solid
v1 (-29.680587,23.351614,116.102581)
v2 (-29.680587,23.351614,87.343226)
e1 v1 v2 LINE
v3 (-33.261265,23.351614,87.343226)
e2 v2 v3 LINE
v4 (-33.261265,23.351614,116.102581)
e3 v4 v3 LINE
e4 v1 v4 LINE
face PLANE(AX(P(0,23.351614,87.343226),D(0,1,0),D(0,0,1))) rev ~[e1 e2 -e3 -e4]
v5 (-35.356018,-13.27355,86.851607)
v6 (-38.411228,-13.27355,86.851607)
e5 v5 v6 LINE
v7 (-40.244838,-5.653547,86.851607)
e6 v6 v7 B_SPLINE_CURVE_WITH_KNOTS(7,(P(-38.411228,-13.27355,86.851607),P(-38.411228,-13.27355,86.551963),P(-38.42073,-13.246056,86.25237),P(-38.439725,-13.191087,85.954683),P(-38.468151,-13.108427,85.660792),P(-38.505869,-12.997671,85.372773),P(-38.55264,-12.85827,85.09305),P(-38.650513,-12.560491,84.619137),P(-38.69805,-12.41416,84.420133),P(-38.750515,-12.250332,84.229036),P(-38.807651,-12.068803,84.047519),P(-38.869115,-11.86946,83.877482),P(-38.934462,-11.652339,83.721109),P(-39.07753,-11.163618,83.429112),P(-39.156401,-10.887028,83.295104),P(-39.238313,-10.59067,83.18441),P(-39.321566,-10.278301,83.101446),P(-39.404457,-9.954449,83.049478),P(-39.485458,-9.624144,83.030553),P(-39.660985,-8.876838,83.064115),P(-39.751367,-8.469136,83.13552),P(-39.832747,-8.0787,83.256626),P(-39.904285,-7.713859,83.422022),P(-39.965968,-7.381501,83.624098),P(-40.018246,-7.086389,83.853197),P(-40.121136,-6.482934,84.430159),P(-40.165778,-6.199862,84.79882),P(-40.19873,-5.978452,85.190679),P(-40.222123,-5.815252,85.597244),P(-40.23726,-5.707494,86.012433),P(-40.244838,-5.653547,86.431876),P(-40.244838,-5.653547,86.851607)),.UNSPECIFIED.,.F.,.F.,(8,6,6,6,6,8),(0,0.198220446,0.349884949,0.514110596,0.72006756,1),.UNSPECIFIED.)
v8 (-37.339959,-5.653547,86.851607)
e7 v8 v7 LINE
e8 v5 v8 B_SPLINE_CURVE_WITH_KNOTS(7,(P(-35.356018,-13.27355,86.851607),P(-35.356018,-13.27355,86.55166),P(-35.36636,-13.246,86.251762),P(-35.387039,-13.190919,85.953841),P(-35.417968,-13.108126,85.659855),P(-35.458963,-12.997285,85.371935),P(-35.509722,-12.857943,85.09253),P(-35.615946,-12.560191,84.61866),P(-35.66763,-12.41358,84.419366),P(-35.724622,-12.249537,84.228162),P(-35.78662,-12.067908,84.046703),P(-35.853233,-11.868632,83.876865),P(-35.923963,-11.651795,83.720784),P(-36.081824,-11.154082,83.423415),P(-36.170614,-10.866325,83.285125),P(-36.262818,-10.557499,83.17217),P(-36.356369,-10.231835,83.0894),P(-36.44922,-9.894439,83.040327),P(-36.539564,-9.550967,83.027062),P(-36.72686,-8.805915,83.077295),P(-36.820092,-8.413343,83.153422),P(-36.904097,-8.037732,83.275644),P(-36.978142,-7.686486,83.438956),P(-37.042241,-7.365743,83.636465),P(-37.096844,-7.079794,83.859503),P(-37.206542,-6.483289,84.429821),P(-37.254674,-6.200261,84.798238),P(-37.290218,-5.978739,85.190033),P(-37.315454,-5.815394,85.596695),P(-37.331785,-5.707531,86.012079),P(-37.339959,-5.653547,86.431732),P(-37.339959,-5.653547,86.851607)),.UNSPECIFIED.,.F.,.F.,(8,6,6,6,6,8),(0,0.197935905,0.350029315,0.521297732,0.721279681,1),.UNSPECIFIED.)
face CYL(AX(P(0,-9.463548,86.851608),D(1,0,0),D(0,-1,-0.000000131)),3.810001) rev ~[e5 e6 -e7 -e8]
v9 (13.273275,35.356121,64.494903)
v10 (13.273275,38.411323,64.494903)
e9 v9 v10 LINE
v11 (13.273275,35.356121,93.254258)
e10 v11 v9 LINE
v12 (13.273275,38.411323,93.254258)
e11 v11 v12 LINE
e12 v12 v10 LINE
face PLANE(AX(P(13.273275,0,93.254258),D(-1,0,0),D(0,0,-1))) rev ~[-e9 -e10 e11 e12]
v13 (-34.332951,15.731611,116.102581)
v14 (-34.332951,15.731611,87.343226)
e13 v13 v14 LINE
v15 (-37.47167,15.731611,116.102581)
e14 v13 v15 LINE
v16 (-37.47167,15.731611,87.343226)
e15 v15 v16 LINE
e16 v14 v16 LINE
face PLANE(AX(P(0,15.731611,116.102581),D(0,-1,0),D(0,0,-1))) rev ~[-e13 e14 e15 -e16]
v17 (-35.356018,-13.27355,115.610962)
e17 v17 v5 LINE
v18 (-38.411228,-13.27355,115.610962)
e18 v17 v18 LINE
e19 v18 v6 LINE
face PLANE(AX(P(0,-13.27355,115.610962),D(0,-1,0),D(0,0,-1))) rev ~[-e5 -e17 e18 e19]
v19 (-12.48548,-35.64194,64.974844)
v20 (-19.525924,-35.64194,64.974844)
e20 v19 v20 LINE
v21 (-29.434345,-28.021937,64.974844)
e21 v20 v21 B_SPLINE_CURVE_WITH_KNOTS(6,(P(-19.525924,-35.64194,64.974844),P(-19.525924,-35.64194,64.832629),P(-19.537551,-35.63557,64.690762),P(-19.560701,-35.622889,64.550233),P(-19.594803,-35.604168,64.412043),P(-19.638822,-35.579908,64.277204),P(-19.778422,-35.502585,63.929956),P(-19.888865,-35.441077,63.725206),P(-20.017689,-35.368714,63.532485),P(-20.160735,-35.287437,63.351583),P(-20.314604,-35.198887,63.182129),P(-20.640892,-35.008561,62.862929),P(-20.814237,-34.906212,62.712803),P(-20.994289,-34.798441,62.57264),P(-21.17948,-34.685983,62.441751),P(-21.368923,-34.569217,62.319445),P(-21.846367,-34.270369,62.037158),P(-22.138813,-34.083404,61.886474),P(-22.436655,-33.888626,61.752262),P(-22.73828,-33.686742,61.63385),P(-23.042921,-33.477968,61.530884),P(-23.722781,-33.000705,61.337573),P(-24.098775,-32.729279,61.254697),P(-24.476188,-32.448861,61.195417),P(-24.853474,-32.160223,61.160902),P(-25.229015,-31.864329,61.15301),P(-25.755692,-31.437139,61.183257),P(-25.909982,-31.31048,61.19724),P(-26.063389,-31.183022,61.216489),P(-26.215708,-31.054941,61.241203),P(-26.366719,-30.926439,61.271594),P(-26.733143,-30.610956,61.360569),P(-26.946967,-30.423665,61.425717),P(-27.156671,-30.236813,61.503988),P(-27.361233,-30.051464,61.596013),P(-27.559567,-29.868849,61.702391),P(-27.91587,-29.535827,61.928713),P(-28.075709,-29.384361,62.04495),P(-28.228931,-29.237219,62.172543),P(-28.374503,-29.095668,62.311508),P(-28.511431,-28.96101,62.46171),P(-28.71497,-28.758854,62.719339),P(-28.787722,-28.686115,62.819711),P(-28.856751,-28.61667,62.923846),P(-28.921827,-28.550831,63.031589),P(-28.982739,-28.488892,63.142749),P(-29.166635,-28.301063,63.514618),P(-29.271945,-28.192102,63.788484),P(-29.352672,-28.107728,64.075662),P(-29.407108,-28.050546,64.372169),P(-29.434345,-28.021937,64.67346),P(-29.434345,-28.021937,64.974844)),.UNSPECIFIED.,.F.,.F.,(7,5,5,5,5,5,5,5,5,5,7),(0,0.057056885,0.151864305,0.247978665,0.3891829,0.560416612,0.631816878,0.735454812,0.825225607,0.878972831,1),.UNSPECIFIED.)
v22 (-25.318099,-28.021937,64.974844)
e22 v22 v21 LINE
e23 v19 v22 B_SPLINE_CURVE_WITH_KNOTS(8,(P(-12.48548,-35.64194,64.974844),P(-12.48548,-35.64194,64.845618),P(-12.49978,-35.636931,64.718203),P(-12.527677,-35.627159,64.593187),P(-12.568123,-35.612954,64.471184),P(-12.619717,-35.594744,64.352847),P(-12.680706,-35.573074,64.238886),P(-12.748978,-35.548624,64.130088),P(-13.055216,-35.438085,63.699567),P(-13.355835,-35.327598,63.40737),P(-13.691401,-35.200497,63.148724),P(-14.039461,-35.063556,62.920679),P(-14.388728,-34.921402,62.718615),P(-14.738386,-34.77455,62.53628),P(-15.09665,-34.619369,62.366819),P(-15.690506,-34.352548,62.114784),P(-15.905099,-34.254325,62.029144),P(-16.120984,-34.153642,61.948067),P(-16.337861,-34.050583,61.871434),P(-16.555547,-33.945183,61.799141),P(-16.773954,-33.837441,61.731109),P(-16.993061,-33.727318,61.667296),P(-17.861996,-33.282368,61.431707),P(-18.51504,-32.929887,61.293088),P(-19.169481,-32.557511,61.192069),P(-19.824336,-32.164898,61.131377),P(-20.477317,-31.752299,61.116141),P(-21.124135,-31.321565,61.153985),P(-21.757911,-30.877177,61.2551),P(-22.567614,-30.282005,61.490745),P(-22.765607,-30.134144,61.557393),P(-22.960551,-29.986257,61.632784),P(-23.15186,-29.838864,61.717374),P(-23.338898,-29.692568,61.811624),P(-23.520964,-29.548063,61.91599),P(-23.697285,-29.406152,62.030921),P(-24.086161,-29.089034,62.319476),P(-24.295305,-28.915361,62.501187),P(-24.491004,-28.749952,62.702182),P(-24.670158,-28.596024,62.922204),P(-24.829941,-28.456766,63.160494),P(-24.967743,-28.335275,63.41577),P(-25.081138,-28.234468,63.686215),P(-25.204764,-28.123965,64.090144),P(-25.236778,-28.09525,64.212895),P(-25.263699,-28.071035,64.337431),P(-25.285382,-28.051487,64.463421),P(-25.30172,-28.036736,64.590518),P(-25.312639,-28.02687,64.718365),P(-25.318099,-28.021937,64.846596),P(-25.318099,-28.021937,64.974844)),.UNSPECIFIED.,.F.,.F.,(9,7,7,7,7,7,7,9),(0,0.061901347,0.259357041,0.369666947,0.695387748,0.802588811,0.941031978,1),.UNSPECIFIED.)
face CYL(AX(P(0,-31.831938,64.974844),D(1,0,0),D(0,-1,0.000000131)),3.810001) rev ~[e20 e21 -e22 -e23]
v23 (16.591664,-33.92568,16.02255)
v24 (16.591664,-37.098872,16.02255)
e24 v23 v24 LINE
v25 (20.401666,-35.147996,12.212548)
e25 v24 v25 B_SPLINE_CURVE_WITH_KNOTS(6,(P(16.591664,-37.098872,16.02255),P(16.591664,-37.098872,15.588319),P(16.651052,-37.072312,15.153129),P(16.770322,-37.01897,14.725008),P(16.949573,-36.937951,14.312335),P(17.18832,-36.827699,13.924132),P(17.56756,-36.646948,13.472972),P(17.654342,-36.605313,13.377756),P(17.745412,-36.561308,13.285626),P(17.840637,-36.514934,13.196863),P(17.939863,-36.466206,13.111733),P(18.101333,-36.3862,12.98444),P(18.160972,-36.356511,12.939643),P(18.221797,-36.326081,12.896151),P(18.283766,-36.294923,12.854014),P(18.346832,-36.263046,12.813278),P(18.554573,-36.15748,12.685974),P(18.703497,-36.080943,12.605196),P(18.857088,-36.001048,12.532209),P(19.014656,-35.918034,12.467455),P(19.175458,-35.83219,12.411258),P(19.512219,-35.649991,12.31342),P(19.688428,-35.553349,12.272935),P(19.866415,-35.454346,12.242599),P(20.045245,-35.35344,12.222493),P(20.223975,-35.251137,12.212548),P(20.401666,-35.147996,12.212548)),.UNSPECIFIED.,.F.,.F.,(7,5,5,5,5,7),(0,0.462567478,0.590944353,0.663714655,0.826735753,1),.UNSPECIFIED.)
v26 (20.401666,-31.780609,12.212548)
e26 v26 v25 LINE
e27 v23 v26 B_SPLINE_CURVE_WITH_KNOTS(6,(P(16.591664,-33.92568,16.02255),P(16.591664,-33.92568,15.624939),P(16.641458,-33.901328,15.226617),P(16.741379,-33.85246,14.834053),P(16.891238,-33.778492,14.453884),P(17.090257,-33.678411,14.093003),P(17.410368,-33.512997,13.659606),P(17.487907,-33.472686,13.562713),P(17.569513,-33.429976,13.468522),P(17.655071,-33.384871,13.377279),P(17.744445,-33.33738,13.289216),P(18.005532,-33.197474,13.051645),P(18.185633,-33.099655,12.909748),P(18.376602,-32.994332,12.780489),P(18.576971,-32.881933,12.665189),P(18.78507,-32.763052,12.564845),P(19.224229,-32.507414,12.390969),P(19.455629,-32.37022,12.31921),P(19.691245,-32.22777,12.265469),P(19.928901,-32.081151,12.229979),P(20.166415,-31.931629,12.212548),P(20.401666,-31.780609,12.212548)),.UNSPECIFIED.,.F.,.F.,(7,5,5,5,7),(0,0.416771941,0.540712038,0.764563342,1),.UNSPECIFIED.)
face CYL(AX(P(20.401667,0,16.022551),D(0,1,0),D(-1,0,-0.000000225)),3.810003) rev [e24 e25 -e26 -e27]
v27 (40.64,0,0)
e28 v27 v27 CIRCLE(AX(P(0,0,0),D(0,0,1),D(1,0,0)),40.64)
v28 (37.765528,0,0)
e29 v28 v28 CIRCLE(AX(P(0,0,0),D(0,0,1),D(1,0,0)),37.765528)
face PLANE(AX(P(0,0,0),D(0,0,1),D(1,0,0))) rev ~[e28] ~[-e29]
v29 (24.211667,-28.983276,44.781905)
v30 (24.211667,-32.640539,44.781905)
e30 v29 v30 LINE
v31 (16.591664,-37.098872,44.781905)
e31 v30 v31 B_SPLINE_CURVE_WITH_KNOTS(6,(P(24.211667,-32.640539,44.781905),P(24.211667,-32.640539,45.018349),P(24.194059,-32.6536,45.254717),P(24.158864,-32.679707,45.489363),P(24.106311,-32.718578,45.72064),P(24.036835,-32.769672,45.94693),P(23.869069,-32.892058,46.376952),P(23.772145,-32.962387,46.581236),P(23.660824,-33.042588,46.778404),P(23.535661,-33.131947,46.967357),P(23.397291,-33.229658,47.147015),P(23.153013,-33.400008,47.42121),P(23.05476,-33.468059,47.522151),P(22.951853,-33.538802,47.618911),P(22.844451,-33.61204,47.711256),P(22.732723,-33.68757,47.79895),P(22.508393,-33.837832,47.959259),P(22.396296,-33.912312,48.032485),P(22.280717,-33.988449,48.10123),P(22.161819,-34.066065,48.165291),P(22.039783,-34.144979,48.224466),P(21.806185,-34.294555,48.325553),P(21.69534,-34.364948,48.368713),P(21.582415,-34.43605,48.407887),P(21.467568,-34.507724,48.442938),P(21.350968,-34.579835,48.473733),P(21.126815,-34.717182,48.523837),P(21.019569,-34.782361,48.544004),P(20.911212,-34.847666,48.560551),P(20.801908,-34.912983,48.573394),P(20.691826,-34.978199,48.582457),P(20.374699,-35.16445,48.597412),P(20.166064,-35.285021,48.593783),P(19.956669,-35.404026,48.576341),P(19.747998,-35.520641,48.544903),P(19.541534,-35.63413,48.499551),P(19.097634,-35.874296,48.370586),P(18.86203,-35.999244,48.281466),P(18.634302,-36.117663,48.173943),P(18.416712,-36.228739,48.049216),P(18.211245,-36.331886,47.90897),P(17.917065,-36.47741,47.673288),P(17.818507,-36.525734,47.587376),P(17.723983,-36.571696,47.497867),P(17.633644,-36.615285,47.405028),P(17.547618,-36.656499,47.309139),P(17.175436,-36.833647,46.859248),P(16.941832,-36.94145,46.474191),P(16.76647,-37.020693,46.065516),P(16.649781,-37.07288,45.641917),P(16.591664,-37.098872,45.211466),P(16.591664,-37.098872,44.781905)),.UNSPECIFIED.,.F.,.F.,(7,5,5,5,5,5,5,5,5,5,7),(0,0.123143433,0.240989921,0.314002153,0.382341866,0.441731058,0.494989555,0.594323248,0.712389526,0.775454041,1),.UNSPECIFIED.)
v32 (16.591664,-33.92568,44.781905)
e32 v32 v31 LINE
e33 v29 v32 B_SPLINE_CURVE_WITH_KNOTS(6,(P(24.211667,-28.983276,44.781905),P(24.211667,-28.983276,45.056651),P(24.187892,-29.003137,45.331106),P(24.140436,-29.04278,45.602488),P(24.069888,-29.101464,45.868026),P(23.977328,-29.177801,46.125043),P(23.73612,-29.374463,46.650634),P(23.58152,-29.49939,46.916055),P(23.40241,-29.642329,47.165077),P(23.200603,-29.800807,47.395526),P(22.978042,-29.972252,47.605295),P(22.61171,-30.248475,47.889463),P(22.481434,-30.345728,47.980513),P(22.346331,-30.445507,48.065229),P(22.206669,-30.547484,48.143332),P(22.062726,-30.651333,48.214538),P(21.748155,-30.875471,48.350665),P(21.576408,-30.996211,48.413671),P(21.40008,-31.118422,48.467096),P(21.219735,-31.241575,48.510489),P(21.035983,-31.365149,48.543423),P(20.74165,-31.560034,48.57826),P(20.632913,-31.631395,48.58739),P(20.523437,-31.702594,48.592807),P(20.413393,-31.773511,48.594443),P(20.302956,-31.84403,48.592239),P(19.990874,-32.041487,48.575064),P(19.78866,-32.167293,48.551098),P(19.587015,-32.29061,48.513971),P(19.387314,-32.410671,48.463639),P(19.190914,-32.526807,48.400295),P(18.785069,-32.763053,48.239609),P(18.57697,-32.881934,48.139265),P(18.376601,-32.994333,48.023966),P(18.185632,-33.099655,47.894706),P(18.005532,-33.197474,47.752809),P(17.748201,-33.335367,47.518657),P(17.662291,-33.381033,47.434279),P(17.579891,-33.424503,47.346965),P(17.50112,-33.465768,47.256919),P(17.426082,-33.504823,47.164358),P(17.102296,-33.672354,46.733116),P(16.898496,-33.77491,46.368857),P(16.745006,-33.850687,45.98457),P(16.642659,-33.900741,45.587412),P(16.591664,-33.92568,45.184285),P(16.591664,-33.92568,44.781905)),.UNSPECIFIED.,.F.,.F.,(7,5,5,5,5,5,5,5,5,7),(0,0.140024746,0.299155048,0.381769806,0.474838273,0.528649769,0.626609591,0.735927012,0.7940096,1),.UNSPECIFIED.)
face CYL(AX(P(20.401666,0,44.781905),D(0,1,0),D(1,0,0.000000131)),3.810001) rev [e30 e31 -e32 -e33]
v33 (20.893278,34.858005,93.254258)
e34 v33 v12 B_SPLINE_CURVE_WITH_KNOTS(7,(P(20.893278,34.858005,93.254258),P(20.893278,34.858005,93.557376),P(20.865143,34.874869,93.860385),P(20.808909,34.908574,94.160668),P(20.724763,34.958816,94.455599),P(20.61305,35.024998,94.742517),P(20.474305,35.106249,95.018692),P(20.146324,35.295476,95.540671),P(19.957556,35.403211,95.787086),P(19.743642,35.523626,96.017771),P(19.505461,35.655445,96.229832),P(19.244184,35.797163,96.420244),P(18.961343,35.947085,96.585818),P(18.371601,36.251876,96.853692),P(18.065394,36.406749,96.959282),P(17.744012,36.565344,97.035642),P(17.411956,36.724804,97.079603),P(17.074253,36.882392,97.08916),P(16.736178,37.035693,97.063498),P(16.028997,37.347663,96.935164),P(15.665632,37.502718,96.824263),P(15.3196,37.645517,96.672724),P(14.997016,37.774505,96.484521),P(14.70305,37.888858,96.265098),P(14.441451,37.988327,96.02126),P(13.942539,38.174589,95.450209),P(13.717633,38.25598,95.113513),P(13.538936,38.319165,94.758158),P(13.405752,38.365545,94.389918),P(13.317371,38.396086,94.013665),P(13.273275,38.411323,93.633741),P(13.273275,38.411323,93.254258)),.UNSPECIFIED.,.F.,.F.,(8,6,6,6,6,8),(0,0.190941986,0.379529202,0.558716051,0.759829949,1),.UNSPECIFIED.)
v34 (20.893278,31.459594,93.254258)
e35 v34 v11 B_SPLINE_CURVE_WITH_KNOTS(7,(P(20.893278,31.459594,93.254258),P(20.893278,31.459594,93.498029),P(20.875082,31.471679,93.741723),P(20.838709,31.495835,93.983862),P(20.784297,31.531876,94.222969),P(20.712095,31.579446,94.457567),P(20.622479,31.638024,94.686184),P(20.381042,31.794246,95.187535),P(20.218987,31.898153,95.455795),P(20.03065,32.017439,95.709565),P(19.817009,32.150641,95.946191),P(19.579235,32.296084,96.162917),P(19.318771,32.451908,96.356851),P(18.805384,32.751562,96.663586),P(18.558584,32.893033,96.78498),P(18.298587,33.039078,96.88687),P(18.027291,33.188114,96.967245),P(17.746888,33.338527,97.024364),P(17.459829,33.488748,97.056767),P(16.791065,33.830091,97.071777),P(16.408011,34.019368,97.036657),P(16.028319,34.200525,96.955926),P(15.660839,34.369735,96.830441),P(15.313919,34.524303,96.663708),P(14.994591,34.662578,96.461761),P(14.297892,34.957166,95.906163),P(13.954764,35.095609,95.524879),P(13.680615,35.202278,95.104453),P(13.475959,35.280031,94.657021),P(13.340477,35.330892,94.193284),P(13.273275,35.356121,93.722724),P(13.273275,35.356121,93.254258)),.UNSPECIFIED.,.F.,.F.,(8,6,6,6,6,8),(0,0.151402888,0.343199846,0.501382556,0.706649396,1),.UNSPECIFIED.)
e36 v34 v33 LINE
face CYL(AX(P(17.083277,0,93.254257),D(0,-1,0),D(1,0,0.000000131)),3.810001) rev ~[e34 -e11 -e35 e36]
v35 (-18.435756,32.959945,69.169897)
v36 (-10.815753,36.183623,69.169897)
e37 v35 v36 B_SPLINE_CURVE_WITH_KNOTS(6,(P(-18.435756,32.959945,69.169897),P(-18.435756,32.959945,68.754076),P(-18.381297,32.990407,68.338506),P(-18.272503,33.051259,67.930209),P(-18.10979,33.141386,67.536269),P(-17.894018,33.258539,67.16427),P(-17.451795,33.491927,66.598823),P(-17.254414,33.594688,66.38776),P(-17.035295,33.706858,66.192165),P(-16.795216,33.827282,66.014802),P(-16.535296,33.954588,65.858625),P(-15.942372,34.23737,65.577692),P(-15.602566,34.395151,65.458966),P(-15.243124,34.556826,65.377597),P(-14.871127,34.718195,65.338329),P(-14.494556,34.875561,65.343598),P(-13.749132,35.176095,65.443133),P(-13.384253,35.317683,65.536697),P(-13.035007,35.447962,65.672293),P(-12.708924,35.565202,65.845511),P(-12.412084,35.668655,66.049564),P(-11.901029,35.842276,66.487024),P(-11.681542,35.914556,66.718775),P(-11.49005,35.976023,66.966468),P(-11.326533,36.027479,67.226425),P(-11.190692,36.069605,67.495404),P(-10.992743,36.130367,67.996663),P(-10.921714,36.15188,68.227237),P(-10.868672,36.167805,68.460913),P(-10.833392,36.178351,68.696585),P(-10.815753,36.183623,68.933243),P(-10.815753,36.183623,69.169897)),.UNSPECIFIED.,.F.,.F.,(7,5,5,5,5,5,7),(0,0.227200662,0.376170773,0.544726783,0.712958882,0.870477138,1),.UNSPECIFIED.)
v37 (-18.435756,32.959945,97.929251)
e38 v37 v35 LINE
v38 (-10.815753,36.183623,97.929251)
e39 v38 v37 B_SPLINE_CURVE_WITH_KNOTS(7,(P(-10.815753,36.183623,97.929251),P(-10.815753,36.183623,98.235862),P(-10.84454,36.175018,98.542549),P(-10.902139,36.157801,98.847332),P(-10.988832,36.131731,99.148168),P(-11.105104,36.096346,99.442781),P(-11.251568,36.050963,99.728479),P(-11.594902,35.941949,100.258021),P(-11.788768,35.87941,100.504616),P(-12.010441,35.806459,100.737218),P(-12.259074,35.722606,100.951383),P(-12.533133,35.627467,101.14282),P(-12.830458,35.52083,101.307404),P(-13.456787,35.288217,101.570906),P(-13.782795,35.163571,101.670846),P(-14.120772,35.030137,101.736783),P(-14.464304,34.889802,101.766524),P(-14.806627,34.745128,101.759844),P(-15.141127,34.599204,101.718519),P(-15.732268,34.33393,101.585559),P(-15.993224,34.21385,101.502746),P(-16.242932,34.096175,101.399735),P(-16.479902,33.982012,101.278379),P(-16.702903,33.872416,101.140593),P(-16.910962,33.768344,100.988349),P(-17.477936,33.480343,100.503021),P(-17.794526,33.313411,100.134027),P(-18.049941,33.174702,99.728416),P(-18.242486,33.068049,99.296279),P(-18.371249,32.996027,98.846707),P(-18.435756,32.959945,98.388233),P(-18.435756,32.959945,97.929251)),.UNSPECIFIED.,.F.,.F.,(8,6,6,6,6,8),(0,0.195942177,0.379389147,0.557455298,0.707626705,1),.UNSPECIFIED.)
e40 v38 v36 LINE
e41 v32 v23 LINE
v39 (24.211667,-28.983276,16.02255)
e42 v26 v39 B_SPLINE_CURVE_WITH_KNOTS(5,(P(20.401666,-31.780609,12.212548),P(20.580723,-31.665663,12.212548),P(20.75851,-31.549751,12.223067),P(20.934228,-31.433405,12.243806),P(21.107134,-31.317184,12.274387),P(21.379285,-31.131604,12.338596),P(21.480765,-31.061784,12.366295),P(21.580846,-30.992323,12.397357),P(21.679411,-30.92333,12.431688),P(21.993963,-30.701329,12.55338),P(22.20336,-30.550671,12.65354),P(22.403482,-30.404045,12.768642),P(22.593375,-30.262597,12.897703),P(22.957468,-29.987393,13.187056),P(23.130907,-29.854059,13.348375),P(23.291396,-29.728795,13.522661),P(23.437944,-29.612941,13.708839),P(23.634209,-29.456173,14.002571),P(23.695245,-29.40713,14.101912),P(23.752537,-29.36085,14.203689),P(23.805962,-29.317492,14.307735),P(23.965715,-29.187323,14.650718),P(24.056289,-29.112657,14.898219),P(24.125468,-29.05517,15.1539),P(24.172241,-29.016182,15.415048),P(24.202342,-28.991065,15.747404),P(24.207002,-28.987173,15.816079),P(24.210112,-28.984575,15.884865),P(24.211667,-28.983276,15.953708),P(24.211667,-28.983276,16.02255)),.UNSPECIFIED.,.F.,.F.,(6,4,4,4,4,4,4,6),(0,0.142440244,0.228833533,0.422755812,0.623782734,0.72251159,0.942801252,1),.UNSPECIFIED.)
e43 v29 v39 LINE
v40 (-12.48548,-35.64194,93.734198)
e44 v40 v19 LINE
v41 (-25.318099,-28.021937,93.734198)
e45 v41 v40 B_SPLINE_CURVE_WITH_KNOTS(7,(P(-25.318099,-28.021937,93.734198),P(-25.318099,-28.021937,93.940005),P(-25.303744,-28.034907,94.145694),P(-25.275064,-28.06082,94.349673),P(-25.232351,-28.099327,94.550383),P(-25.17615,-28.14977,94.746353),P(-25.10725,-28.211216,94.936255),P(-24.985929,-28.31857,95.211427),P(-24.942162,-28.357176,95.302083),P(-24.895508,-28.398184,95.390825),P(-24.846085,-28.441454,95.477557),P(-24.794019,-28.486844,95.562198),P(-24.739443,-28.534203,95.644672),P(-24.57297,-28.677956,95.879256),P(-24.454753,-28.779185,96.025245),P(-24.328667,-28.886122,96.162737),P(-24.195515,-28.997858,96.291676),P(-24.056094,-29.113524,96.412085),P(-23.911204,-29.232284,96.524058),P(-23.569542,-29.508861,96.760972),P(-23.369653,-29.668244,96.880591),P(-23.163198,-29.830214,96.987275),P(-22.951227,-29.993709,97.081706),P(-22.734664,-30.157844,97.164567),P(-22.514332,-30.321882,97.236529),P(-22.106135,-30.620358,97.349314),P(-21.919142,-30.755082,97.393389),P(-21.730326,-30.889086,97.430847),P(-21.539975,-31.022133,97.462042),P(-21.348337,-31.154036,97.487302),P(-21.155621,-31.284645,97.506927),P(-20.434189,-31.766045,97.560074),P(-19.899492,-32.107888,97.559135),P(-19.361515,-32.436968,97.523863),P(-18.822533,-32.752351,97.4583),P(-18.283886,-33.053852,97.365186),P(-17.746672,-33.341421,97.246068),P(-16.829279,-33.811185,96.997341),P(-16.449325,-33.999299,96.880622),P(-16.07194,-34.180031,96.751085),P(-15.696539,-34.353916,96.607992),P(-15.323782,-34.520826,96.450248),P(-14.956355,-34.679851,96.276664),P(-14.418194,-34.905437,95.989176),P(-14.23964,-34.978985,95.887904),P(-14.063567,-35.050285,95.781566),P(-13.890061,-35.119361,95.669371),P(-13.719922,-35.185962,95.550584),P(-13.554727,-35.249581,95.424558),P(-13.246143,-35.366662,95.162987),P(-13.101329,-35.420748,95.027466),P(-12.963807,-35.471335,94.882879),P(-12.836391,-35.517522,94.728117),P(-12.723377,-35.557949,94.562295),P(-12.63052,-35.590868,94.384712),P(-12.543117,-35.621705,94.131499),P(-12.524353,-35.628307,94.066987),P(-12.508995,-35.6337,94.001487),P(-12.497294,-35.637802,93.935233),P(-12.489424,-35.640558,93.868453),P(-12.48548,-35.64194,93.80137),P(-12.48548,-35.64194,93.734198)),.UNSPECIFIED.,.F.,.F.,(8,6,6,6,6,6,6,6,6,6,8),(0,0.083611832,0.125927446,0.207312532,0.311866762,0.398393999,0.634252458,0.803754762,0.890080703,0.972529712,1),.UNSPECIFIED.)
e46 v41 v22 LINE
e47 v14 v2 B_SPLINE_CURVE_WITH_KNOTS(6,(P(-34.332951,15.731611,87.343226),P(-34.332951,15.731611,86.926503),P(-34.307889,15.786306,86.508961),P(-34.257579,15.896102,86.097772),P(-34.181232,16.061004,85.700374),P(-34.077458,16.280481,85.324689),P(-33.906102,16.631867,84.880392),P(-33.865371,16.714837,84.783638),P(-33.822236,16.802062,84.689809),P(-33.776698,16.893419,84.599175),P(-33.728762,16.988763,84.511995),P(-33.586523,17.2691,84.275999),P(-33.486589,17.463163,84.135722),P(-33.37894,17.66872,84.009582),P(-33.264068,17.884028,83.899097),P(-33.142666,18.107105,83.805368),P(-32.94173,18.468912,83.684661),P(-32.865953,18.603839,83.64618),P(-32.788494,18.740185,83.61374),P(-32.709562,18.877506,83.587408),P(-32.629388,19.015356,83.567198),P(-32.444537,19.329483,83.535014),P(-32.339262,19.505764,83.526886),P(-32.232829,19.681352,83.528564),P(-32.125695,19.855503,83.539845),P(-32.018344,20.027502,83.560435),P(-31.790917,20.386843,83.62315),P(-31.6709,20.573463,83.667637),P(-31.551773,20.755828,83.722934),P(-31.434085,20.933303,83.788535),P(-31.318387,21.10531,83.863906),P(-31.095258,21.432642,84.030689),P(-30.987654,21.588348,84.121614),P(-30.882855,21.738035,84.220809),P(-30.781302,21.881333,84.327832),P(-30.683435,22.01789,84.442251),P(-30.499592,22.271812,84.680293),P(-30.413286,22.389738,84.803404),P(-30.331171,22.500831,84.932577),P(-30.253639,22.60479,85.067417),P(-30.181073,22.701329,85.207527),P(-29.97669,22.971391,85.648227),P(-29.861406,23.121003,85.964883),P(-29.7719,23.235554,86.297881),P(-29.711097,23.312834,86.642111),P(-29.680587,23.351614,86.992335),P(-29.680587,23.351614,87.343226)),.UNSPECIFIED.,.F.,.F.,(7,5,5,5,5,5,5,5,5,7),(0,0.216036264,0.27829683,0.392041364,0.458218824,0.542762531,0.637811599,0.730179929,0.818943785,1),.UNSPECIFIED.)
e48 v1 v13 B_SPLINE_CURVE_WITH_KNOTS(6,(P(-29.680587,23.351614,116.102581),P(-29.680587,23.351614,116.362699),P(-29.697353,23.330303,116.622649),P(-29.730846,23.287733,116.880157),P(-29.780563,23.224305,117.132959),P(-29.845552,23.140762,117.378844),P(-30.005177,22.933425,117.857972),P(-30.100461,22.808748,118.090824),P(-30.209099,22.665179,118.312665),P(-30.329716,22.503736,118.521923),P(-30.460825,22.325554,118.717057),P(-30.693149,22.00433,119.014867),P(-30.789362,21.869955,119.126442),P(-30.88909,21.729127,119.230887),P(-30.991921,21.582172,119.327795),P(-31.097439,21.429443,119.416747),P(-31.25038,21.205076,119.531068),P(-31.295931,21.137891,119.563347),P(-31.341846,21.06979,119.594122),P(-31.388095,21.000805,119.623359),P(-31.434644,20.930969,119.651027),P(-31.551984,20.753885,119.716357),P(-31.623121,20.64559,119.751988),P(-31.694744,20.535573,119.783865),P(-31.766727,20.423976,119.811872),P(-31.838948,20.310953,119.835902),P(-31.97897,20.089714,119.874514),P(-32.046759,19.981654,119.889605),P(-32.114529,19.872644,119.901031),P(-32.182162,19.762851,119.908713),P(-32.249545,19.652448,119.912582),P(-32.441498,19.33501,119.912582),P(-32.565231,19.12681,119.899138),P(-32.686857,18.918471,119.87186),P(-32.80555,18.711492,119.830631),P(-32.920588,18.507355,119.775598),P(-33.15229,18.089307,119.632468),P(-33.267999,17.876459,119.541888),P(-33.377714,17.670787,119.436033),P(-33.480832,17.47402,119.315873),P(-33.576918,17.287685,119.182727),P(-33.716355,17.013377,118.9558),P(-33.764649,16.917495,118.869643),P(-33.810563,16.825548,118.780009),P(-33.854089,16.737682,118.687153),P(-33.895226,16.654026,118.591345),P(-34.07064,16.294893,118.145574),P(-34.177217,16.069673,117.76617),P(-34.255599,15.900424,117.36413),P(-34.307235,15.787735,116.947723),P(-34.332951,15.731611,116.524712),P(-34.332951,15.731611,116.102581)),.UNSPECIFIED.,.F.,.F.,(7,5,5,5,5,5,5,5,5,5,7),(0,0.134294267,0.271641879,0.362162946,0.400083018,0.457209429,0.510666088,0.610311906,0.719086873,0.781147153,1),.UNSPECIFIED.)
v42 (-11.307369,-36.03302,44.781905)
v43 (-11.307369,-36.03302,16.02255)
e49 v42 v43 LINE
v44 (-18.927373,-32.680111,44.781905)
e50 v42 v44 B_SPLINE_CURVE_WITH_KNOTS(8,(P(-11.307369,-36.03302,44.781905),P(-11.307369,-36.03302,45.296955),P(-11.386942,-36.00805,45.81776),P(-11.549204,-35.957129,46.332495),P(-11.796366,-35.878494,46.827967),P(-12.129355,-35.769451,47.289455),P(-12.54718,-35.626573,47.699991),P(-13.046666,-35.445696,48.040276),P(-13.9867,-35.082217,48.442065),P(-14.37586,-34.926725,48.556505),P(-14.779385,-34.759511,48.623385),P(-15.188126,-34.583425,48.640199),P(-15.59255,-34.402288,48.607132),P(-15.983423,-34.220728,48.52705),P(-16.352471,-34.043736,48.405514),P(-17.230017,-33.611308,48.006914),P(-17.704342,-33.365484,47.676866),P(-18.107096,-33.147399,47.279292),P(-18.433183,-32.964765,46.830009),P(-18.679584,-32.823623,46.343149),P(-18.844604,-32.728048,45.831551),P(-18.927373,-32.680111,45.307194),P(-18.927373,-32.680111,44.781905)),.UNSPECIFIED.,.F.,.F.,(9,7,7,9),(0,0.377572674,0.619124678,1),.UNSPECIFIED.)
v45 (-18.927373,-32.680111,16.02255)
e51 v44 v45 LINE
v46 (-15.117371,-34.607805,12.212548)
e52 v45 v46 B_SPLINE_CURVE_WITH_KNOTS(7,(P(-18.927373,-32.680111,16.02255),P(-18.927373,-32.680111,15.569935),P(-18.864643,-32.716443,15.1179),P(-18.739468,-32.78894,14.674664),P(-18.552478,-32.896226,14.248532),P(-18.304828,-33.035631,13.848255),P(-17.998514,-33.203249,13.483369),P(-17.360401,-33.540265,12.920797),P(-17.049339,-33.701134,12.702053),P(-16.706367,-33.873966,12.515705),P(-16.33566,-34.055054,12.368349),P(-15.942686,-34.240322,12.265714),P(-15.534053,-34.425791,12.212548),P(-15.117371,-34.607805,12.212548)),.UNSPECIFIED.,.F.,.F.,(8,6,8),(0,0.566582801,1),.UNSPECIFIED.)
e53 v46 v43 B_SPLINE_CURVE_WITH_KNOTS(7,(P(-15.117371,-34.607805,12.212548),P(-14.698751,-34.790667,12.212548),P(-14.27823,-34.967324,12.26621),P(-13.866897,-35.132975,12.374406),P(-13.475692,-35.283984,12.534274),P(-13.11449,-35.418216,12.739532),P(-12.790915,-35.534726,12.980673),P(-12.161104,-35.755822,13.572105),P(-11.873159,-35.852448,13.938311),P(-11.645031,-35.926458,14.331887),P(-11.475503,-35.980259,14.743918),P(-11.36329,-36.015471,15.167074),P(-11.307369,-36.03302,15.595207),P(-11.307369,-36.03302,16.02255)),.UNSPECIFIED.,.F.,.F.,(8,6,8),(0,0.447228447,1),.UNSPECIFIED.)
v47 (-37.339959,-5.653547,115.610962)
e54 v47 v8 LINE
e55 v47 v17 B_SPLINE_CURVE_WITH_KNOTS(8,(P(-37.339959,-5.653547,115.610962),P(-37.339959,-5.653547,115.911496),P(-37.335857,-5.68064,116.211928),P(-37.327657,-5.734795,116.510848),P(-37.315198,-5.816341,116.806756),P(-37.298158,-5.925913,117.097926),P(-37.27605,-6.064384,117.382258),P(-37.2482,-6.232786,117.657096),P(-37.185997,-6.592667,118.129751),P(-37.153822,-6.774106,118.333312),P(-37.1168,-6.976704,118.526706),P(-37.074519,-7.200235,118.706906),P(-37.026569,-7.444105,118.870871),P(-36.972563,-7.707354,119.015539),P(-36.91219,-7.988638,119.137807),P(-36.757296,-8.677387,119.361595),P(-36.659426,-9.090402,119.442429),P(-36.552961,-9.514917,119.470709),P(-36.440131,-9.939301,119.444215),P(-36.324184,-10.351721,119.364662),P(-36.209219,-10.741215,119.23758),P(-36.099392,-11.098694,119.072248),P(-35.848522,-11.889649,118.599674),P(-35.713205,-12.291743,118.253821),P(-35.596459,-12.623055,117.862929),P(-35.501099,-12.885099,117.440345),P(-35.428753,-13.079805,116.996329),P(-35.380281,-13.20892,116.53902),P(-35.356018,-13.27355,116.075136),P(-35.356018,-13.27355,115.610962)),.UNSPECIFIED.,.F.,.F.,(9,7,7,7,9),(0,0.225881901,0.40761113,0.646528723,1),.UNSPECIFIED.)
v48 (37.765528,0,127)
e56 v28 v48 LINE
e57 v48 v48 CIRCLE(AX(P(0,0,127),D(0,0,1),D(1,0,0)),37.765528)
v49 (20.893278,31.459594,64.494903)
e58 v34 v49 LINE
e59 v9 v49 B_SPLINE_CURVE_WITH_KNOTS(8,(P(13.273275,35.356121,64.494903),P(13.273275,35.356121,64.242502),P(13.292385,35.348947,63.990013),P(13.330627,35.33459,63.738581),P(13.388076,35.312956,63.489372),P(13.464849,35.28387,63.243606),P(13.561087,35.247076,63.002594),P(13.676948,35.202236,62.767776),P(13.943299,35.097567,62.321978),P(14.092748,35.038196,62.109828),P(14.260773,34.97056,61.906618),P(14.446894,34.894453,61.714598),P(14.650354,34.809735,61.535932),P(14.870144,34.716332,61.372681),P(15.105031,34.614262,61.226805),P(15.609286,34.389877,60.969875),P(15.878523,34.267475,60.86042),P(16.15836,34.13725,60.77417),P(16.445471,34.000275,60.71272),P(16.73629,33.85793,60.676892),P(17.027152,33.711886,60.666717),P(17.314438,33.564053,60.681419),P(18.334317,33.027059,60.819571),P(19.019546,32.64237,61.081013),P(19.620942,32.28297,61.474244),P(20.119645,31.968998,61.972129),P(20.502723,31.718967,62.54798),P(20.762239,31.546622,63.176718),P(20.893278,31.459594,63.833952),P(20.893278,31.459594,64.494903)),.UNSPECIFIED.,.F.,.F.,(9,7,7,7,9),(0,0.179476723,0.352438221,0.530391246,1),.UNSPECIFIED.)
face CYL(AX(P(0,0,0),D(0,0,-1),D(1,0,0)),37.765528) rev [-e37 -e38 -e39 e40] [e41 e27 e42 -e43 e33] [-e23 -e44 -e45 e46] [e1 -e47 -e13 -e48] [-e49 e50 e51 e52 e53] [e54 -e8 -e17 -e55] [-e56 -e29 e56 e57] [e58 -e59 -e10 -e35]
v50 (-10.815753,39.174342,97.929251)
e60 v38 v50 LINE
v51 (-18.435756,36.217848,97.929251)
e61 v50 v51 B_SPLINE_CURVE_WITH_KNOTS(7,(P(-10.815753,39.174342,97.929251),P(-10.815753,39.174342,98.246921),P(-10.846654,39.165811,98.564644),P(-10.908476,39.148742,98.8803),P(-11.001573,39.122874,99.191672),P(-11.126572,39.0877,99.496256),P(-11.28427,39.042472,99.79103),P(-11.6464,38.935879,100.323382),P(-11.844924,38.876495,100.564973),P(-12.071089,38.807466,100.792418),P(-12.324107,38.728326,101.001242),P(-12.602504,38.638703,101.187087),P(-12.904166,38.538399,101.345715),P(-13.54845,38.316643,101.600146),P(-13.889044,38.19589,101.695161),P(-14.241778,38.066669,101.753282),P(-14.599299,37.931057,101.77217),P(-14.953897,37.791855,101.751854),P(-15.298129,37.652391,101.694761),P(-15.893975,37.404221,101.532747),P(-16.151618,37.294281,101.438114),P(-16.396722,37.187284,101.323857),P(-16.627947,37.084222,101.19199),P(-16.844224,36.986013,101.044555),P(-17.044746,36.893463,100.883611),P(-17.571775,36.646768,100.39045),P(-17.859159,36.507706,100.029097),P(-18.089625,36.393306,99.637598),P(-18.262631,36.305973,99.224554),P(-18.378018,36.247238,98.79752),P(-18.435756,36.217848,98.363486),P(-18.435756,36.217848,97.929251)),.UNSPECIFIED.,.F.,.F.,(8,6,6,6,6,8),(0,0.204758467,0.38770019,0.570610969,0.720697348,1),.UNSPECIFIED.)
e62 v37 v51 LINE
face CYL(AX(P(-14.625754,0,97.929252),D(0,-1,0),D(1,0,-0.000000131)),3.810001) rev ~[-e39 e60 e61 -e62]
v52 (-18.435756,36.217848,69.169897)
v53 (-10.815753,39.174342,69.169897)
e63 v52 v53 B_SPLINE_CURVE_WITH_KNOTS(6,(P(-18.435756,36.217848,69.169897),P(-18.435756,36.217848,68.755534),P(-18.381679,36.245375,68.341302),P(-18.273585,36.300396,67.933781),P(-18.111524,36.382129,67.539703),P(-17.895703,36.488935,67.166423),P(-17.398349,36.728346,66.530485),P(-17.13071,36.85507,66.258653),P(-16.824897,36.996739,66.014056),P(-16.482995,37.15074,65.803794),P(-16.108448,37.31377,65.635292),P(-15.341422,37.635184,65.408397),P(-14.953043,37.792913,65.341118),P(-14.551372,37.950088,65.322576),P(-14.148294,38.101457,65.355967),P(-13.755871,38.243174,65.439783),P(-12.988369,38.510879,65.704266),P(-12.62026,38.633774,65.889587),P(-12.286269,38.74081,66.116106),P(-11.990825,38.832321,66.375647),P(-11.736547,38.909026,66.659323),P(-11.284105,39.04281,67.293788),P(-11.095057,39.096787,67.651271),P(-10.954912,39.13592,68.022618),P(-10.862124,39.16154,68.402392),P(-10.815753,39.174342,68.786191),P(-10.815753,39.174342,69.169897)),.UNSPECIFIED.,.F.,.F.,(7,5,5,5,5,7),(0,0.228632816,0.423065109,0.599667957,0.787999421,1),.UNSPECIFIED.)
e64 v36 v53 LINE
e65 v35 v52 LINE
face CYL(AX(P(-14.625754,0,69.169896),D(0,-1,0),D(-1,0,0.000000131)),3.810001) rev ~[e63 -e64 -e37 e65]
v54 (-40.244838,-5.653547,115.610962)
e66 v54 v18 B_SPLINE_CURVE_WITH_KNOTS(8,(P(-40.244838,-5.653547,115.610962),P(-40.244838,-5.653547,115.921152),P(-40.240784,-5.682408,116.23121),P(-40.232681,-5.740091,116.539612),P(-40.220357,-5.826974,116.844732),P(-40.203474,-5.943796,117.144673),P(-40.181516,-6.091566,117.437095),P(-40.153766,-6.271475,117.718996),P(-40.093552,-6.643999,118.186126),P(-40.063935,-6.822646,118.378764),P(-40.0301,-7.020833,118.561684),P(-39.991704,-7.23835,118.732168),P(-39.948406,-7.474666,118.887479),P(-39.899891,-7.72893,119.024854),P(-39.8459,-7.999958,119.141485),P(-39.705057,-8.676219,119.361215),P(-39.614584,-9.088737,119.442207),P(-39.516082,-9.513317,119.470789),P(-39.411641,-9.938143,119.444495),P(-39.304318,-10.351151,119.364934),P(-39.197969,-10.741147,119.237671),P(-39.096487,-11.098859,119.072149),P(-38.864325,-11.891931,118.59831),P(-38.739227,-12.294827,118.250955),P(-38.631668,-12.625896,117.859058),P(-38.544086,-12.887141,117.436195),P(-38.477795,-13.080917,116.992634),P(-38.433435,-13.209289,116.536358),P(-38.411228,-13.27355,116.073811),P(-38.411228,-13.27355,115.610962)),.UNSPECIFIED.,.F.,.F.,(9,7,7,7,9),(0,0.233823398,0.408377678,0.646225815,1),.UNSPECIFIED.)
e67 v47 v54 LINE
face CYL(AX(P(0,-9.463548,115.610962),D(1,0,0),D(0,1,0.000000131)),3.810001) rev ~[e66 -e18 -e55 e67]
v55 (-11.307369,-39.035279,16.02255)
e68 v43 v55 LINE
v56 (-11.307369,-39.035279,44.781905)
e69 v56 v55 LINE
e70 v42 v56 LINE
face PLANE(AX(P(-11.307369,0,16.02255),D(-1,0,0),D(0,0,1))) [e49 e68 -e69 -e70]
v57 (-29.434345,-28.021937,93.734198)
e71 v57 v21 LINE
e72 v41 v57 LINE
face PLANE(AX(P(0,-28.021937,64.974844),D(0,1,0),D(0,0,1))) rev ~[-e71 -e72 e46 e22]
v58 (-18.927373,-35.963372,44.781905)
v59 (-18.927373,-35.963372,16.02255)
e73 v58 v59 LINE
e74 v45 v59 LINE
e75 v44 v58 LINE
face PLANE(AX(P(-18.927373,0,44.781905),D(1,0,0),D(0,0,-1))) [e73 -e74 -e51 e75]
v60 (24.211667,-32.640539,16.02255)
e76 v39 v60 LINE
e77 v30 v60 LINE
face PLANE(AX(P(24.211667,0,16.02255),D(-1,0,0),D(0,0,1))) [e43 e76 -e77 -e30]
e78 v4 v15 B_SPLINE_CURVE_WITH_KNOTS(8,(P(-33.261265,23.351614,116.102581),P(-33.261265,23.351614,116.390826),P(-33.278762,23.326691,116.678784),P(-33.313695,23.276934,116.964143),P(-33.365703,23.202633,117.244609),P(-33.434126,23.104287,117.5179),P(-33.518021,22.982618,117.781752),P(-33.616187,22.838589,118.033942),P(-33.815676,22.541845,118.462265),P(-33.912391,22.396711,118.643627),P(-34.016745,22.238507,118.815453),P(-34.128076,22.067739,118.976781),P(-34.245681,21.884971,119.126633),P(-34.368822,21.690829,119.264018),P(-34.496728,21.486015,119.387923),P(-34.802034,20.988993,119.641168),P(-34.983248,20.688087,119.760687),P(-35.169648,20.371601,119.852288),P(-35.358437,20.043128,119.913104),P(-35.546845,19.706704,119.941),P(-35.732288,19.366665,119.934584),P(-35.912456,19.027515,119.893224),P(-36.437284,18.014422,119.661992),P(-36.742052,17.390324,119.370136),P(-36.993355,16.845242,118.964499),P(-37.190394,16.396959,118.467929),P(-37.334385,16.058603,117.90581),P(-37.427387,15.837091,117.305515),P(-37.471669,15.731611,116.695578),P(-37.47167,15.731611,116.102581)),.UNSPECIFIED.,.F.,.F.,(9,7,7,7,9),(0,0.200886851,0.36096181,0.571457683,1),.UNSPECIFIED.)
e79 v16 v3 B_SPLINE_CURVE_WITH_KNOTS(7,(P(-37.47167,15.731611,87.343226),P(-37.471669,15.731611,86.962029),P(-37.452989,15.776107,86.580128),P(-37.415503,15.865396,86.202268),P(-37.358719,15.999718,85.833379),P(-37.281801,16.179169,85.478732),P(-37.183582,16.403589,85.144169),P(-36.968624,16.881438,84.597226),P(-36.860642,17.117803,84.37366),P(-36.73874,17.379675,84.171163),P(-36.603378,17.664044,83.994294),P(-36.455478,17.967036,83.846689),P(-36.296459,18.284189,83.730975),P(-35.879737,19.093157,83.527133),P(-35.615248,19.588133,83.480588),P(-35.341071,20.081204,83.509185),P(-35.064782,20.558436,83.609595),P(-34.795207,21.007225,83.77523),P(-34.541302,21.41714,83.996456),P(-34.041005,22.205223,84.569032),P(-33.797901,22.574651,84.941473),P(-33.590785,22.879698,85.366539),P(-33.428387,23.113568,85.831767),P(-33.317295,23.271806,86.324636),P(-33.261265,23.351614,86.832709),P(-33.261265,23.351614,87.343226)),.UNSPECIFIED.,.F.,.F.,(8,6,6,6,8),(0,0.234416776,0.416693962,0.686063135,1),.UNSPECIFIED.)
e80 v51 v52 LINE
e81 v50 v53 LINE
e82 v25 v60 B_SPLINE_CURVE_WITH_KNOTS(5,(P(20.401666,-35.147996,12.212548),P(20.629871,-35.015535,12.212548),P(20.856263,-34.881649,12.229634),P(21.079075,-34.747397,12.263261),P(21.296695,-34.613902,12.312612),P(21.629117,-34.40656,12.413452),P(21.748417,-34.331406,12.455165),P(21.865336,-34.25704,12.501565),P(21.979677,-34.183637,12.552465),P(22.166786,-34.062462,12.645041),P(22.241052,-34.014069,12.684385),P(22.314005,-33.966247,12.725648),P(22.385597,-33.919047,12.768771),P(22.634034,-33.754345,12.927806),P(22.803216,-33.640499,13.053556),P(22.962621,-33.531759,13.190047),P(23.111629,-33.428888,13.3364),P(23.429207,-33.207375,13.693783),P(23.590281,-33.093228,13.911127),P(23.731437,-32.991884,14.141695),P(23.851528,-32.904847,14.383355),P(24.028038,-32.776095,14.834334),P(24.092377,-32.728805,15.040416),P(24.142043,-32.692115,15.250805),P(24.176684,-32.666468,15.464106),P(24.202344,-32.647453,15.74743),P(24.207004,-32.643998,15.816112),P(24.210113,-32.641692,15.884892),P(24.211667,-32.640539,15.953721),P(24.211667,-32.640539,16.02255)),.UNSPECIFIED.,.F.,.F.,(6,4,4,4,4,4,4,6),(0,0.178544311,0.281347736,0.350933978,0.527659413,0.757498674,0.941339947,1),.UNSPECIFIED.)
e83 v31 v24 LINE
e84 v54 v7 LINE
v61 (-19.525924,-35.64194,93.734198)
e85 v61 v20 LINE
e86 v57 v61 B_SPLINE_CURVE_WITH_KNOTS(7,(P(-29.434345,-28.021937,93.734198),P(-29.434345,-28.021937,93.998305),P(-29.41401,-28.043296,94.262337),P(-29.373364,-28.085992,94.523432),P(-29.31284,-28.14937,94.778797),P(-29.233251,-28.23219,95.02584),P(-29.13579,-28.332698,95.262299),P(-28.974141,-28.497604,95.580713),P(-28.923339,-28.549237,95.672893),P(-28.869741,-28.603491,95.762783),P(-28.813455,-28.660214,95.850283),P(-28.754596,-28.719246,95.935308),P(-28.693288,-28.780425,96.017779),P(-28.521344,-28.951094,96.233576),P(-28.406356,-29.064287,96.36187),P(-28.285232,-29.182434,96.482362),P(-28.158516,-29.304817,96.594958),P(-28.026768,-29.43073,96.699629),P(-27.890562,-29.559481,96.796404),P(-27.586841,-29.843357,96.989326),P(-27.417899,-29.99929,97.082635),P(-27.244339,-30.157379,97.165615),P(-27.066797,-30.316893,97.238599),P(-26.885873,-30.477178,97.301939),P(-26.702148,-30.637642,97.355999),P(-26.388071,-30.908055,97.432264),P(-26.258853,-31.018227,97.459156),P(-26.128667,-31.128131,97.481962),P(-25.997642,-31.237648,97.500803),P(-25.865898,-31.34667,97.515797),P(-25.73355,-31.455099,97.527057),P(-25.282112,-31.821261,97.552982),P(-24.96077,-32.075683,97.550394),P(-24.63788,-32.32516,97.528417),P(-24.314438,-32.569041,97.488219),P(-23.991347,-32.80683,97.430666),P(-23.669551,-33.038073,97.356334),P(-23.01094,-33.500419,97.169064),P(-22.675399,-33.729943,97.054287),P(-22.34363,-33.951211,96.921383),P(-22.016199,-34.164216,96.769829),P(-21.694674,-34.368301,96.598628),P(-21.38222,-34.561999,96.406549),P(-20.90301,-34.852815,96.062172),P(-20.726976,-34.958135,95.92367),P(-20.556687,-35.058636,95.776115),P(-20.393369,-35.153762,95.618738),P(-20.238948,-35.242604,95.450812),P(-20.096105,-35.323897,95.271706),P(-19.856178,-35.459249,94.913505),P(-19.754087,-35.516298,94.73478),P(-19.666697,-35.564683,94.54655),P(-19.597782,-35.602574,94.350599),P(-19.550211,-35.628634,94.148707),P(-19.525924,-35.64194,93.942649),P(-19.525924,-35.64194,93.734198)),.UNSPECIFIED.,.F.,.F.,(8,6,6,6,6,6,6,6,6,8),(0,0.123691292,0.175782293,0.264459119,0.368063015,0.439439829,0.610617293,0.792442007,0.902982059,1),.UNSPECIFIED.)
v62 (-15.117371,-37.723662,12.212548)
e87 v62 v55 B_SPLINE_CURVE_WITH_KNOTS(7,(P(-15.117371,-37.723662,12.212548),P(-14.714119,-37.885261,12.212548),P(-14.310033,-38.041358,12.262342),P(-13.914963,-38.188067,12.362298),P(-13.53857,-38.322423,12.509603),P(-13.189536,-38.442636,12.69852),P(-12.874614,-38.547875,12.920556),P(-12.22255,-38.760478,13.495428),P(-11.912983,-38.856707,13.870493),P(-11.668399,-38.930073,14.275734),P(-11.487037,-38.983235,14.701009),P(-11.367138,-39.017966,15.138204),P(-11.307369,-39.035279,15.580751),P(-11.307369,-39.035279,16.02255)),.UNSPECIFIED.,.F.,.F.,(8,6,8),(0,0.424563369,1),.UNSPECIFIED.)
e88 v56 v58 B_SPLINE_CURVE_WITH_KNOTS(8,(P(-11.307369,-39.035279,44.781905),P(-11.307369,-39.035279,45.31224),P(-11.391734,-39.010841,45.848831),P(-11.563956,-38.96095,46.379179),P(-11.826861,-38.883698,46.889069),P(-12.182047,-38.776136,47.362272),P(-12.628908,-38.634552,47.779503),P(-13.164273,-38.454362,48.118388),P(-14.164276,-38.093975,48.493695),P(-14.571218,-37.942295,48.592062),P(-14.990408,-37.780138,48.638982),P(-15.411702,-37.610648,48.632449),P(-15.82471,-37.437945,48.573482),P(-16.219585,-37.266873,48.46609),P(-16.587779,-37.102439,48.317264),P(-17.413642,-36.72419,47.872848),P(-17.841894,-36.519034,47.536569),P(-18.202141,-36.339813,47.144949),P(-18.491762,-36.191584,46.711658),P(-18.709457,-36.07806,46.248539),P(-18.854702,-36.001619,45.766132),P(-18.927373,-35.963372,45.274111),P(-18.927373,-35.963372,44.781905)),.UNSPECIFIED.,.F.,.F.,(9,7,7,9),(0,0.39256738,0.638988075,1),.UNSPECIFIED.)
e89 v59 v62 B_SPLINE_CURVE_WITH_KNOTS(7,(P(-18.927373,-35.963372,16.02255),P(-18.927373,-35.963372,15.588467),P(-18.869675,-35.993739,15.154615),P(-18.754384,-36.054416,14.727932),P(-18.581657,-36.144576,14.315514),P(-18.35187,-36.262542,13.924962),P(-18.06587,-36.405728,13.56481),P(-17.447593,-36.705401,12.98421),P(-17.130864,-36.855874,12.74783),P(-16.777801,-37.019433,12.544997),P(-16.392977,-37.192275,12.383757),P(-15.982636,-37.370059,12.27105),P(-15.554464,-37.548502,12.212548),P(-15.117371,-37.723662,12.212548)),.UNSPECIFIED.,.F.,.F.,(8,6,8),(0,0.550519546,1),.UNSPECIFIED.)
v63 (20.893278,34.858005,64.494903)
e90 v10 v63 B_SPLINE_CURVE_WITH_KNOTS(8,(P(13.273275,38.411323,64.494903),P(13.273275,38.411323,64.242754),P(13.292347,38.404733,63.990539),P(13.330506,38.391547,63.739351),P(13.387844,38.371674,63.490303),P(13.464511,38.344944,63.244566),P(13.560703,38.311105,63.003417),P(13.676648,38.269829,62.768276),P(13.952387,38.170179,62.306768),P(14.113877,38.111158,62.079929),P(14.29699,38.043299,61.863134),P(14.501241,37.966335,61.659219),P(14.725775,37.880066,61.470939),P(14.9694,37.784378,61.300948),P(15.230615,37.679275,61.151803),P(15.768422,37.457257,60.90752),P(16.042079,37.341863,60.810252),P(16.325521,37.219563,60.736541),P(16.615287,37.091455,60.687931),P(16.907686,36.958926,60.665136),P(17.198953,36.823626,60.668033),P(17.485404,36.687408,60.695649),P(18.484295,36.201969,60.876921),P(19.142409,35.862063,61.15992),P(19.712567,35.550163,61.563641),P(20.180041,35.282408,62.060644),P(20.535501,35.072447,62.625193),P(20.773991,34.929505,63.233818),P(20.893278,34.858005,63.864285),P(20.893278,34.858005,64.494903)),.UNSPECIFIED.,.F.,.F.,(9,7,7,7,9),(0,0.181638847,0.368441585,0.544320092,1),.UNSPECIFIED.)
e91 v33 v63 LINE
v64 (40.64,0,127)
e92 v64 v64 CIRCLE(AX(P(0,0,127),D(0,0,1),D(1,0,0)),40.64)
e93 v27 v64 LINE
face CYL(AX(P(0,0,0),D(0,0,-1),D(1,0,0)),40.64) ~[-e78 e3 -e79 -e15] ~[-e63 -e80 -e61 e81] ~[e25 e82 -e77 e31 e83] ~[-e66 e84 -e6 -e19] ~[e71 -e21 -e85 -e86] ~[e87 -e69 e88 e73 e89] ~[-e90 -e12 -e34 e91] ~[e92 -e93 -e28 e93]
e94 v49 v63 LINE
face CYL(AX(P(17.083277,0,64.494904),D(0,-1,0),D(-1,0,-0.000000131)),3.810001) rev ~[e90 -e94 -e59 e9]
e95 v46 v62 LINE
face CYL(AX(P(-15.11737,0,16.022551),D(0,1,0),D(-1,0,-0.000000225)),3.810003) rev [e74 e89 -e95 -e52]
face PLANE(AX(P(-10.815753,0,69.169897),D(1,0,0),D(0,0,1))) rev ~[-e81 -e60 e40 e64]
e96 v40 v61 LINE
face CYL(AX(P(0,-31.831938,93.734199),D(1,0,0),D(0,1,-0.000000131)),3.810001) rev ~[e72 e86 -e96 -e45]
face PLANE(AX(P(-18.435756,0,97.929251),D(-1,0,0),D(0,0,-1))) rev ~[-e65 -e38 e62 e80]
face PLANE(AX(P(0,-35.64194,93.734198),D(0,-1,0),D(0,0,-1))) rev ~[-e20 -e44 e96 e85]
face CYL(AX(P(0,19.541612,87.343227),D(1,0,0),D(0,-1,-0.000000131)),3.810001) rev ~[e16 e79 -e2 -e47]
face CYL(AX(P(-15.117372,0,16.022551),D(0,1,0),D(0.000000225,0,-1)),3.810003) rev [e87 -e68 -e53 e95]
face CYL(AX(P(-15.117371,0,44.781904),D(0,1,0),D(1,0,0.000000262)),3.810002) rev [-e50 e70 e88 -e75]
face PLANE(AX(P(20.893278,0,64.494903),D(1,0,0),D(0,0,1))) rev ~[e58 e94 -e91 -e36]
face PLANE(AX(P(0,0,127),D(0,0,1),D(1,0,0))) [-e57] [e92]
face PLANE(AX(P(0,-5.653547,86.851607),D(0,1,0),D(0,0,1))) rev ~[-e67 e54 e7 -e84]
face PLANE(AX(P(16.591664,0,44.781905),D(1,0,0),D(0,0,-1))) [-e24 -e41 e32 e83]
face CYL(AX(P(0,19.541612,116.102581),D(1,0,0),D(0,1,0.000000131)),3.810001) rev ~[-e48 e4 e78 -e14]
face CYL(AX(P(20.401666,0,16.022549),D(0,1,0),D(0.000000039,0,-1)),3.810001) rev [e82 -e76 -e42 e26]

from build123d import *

# Parameters (mm, degrees)
F0_R     = 40.64
F0_R_2   = 37.765528
F1_DEPTH = 127
F3_DEPTH = 40.641
F4_DEPTH = 76.2
F5_DEPTH = 50.8
F6_DEPTH = 50.8
F8_DEPTH = 50.8
F9_DEPTH = 50.8


with BuildPart() as f1:
    # F0 (on Top) → F1 (new body)
    with BuildSketch(Plane.XY):
        Circle(F0_R)
        Circle(F0_R_2, mode=Mode.SUBTRACT)
    extrude(amount=F1_DEPTH)

    # F2 (on Front) → F3 (cut, through all)
    with BuildSketch(Plane.XZ):
        with BuildLine():
            ThreePointArc((20.893278, 93.254258), (17.083276, 97.064259), (13.273275, 93.254258))
            Line((13.273275, 93.254258), (13.273275, 64.494903))
            ThreePointArc((13.273275, 64.494903), (17.083276, 60.684902), (20.893278, 64.494903))
            Line((20.893278, 64.494903), (20.893278, 93.254258))
        make_face()
    extrude(amount=-F3_DEPTH, mode=Mode.SUBTRACT)

    # F2 (on Front) → F4 (cut)
    with BuildSketch(Plane.XZ):
        with BuildLine():
            ThreePointArc((-10.815753, 97.929251), (-14.625754, 101.739253), (-18.435756, 97.929251))
            Line((-18.435756, 97.929251), (-18.435756, 69.169897))
            ThreePointArc((-18.435756, 69.169897), (-14.625754, 65.359895), (-10.815753, 69.169897))
            Line((-10.815753, 69.169897), (-10.815753, 97.929251))
        make_face()
    extrude(amount=-F4_DEPTH, mode=Mode.SUBTRACT)

    # F2 (on Front) → F5 (cut)
    with BuildSketch(Plane.XZ):
        with BuildLine():
            ThreePointArc((-18.927373, 16.02255), (-17.811449, 13.328472), (-15.117371, 12.212548))
            ThreePointArc((-15.117371, 12.212548), (-12.423293, 13.328472), (-11.307369, 16.02255))
            Line((-11.307369, 16.02255), (-11.307369, 44.781905))
            ThreePointArc((-11.307369, 44.781905), (-15.117371, 48.591906), (-18.927373, 44.781905))
            Line((-18.927373, 44.781905), (-18.927373, 16.02255))
        make_face()
    extrude(amount=F5_DEPTH, mode=Mode.SUBTRACT)

    # F2 (on Front) → F6 (cut)
    with BuildSketch(Plane.XZ):
        with BuildLine():
            ThreePointArc((24.211667, 44.781905), (20.401666, 48.591906), (16.591664, 44.781905))
            Line((16.591664, 44.781905), (16.591664, 16.02255))
            ThreePointArc((16.591664, 16.02255), (17.707588, 13.328472), (20.401666, 12.212548))
            ThreePointArc((20.401666, 12.212548), (23.095744, 13.328472), (24.211667, 16.02255))
            Line((24.211667, 16.02255), (24.211667, 44.781905))
        make_face()
    extrude(amount=F6_DEPTH, mode=Mode.SUBTRACT)

    # F7 (on Right) → F8 (cut)
    with BuildSketch(Plane.YZ):
        with BuildLine():
            ThreePointArc((-5.653547, 115.610962), (-9.463548, 119.420963), (-13.27355, 115.610962))
            Line((-13.27355, 115.610962), (-13.27355, 86.851607))
            ThreePointArc((-13.27355, 86.851607), (-9.463548, 83.041606), (-5.653547, 86.851607))
            Line((-5.653547, 86.851607), (-5.653547, 115.610962))
        make_face()
    extrude(amount=-F8_DEPTH, mode=Mode.SUBTRACT)

    # F7 (on Right) → F9 (cut)
    with BuildSketch(Plane.YZ):
        with BuildLine():
            ThreePointArc((-5.653547, 115.610962), (-9.463548, 119.420963), (-13.27355, 115.610962))
            Line((-13.27355, 115.610962), (-13.27355, 86.851607))
            ThreePointArc((-13.27355, 86.851607), (-9.463548, 83.041606), (-5.653547, 86.851607))
            Line((-5.653547, 86.851607), (-5.653547, 115.610962))
        make_face()
        with BuildLine():
            ThreePointArc((-28.021937, 93.734198), (-31.831939, 97.5442), (-35.64194, 93.734198))
            Line((-35.64194, 93.734198), (-35.64194, 64.974844))
            ThreePointArc((-35.64194, 64.974844), (-31.831939, 61.164842), (-28.021937, 64.974844))
            Line((-28.021937, 64.974844), (-28.021937, 93.734198))
        make_face()
        with BuildLine():
            ThreePointArc((23.351614, 116.102581), (19.541613, 119.912582), (15.731611, 116.102581))
            Line((15.731611, 116.102581), (15.731611, 87.343226))
            ThreePointArc((15.731611, 87.343226), (19.541613, 83.533225), (23.351614, 87.343226))
            Line((23.351614, 87.343226), (23.351614, 116.102581))
        make_face()
    extrude(amount=-F9_DEPTH, mode=Mode.SUBTRACT)


solid = f1.part
